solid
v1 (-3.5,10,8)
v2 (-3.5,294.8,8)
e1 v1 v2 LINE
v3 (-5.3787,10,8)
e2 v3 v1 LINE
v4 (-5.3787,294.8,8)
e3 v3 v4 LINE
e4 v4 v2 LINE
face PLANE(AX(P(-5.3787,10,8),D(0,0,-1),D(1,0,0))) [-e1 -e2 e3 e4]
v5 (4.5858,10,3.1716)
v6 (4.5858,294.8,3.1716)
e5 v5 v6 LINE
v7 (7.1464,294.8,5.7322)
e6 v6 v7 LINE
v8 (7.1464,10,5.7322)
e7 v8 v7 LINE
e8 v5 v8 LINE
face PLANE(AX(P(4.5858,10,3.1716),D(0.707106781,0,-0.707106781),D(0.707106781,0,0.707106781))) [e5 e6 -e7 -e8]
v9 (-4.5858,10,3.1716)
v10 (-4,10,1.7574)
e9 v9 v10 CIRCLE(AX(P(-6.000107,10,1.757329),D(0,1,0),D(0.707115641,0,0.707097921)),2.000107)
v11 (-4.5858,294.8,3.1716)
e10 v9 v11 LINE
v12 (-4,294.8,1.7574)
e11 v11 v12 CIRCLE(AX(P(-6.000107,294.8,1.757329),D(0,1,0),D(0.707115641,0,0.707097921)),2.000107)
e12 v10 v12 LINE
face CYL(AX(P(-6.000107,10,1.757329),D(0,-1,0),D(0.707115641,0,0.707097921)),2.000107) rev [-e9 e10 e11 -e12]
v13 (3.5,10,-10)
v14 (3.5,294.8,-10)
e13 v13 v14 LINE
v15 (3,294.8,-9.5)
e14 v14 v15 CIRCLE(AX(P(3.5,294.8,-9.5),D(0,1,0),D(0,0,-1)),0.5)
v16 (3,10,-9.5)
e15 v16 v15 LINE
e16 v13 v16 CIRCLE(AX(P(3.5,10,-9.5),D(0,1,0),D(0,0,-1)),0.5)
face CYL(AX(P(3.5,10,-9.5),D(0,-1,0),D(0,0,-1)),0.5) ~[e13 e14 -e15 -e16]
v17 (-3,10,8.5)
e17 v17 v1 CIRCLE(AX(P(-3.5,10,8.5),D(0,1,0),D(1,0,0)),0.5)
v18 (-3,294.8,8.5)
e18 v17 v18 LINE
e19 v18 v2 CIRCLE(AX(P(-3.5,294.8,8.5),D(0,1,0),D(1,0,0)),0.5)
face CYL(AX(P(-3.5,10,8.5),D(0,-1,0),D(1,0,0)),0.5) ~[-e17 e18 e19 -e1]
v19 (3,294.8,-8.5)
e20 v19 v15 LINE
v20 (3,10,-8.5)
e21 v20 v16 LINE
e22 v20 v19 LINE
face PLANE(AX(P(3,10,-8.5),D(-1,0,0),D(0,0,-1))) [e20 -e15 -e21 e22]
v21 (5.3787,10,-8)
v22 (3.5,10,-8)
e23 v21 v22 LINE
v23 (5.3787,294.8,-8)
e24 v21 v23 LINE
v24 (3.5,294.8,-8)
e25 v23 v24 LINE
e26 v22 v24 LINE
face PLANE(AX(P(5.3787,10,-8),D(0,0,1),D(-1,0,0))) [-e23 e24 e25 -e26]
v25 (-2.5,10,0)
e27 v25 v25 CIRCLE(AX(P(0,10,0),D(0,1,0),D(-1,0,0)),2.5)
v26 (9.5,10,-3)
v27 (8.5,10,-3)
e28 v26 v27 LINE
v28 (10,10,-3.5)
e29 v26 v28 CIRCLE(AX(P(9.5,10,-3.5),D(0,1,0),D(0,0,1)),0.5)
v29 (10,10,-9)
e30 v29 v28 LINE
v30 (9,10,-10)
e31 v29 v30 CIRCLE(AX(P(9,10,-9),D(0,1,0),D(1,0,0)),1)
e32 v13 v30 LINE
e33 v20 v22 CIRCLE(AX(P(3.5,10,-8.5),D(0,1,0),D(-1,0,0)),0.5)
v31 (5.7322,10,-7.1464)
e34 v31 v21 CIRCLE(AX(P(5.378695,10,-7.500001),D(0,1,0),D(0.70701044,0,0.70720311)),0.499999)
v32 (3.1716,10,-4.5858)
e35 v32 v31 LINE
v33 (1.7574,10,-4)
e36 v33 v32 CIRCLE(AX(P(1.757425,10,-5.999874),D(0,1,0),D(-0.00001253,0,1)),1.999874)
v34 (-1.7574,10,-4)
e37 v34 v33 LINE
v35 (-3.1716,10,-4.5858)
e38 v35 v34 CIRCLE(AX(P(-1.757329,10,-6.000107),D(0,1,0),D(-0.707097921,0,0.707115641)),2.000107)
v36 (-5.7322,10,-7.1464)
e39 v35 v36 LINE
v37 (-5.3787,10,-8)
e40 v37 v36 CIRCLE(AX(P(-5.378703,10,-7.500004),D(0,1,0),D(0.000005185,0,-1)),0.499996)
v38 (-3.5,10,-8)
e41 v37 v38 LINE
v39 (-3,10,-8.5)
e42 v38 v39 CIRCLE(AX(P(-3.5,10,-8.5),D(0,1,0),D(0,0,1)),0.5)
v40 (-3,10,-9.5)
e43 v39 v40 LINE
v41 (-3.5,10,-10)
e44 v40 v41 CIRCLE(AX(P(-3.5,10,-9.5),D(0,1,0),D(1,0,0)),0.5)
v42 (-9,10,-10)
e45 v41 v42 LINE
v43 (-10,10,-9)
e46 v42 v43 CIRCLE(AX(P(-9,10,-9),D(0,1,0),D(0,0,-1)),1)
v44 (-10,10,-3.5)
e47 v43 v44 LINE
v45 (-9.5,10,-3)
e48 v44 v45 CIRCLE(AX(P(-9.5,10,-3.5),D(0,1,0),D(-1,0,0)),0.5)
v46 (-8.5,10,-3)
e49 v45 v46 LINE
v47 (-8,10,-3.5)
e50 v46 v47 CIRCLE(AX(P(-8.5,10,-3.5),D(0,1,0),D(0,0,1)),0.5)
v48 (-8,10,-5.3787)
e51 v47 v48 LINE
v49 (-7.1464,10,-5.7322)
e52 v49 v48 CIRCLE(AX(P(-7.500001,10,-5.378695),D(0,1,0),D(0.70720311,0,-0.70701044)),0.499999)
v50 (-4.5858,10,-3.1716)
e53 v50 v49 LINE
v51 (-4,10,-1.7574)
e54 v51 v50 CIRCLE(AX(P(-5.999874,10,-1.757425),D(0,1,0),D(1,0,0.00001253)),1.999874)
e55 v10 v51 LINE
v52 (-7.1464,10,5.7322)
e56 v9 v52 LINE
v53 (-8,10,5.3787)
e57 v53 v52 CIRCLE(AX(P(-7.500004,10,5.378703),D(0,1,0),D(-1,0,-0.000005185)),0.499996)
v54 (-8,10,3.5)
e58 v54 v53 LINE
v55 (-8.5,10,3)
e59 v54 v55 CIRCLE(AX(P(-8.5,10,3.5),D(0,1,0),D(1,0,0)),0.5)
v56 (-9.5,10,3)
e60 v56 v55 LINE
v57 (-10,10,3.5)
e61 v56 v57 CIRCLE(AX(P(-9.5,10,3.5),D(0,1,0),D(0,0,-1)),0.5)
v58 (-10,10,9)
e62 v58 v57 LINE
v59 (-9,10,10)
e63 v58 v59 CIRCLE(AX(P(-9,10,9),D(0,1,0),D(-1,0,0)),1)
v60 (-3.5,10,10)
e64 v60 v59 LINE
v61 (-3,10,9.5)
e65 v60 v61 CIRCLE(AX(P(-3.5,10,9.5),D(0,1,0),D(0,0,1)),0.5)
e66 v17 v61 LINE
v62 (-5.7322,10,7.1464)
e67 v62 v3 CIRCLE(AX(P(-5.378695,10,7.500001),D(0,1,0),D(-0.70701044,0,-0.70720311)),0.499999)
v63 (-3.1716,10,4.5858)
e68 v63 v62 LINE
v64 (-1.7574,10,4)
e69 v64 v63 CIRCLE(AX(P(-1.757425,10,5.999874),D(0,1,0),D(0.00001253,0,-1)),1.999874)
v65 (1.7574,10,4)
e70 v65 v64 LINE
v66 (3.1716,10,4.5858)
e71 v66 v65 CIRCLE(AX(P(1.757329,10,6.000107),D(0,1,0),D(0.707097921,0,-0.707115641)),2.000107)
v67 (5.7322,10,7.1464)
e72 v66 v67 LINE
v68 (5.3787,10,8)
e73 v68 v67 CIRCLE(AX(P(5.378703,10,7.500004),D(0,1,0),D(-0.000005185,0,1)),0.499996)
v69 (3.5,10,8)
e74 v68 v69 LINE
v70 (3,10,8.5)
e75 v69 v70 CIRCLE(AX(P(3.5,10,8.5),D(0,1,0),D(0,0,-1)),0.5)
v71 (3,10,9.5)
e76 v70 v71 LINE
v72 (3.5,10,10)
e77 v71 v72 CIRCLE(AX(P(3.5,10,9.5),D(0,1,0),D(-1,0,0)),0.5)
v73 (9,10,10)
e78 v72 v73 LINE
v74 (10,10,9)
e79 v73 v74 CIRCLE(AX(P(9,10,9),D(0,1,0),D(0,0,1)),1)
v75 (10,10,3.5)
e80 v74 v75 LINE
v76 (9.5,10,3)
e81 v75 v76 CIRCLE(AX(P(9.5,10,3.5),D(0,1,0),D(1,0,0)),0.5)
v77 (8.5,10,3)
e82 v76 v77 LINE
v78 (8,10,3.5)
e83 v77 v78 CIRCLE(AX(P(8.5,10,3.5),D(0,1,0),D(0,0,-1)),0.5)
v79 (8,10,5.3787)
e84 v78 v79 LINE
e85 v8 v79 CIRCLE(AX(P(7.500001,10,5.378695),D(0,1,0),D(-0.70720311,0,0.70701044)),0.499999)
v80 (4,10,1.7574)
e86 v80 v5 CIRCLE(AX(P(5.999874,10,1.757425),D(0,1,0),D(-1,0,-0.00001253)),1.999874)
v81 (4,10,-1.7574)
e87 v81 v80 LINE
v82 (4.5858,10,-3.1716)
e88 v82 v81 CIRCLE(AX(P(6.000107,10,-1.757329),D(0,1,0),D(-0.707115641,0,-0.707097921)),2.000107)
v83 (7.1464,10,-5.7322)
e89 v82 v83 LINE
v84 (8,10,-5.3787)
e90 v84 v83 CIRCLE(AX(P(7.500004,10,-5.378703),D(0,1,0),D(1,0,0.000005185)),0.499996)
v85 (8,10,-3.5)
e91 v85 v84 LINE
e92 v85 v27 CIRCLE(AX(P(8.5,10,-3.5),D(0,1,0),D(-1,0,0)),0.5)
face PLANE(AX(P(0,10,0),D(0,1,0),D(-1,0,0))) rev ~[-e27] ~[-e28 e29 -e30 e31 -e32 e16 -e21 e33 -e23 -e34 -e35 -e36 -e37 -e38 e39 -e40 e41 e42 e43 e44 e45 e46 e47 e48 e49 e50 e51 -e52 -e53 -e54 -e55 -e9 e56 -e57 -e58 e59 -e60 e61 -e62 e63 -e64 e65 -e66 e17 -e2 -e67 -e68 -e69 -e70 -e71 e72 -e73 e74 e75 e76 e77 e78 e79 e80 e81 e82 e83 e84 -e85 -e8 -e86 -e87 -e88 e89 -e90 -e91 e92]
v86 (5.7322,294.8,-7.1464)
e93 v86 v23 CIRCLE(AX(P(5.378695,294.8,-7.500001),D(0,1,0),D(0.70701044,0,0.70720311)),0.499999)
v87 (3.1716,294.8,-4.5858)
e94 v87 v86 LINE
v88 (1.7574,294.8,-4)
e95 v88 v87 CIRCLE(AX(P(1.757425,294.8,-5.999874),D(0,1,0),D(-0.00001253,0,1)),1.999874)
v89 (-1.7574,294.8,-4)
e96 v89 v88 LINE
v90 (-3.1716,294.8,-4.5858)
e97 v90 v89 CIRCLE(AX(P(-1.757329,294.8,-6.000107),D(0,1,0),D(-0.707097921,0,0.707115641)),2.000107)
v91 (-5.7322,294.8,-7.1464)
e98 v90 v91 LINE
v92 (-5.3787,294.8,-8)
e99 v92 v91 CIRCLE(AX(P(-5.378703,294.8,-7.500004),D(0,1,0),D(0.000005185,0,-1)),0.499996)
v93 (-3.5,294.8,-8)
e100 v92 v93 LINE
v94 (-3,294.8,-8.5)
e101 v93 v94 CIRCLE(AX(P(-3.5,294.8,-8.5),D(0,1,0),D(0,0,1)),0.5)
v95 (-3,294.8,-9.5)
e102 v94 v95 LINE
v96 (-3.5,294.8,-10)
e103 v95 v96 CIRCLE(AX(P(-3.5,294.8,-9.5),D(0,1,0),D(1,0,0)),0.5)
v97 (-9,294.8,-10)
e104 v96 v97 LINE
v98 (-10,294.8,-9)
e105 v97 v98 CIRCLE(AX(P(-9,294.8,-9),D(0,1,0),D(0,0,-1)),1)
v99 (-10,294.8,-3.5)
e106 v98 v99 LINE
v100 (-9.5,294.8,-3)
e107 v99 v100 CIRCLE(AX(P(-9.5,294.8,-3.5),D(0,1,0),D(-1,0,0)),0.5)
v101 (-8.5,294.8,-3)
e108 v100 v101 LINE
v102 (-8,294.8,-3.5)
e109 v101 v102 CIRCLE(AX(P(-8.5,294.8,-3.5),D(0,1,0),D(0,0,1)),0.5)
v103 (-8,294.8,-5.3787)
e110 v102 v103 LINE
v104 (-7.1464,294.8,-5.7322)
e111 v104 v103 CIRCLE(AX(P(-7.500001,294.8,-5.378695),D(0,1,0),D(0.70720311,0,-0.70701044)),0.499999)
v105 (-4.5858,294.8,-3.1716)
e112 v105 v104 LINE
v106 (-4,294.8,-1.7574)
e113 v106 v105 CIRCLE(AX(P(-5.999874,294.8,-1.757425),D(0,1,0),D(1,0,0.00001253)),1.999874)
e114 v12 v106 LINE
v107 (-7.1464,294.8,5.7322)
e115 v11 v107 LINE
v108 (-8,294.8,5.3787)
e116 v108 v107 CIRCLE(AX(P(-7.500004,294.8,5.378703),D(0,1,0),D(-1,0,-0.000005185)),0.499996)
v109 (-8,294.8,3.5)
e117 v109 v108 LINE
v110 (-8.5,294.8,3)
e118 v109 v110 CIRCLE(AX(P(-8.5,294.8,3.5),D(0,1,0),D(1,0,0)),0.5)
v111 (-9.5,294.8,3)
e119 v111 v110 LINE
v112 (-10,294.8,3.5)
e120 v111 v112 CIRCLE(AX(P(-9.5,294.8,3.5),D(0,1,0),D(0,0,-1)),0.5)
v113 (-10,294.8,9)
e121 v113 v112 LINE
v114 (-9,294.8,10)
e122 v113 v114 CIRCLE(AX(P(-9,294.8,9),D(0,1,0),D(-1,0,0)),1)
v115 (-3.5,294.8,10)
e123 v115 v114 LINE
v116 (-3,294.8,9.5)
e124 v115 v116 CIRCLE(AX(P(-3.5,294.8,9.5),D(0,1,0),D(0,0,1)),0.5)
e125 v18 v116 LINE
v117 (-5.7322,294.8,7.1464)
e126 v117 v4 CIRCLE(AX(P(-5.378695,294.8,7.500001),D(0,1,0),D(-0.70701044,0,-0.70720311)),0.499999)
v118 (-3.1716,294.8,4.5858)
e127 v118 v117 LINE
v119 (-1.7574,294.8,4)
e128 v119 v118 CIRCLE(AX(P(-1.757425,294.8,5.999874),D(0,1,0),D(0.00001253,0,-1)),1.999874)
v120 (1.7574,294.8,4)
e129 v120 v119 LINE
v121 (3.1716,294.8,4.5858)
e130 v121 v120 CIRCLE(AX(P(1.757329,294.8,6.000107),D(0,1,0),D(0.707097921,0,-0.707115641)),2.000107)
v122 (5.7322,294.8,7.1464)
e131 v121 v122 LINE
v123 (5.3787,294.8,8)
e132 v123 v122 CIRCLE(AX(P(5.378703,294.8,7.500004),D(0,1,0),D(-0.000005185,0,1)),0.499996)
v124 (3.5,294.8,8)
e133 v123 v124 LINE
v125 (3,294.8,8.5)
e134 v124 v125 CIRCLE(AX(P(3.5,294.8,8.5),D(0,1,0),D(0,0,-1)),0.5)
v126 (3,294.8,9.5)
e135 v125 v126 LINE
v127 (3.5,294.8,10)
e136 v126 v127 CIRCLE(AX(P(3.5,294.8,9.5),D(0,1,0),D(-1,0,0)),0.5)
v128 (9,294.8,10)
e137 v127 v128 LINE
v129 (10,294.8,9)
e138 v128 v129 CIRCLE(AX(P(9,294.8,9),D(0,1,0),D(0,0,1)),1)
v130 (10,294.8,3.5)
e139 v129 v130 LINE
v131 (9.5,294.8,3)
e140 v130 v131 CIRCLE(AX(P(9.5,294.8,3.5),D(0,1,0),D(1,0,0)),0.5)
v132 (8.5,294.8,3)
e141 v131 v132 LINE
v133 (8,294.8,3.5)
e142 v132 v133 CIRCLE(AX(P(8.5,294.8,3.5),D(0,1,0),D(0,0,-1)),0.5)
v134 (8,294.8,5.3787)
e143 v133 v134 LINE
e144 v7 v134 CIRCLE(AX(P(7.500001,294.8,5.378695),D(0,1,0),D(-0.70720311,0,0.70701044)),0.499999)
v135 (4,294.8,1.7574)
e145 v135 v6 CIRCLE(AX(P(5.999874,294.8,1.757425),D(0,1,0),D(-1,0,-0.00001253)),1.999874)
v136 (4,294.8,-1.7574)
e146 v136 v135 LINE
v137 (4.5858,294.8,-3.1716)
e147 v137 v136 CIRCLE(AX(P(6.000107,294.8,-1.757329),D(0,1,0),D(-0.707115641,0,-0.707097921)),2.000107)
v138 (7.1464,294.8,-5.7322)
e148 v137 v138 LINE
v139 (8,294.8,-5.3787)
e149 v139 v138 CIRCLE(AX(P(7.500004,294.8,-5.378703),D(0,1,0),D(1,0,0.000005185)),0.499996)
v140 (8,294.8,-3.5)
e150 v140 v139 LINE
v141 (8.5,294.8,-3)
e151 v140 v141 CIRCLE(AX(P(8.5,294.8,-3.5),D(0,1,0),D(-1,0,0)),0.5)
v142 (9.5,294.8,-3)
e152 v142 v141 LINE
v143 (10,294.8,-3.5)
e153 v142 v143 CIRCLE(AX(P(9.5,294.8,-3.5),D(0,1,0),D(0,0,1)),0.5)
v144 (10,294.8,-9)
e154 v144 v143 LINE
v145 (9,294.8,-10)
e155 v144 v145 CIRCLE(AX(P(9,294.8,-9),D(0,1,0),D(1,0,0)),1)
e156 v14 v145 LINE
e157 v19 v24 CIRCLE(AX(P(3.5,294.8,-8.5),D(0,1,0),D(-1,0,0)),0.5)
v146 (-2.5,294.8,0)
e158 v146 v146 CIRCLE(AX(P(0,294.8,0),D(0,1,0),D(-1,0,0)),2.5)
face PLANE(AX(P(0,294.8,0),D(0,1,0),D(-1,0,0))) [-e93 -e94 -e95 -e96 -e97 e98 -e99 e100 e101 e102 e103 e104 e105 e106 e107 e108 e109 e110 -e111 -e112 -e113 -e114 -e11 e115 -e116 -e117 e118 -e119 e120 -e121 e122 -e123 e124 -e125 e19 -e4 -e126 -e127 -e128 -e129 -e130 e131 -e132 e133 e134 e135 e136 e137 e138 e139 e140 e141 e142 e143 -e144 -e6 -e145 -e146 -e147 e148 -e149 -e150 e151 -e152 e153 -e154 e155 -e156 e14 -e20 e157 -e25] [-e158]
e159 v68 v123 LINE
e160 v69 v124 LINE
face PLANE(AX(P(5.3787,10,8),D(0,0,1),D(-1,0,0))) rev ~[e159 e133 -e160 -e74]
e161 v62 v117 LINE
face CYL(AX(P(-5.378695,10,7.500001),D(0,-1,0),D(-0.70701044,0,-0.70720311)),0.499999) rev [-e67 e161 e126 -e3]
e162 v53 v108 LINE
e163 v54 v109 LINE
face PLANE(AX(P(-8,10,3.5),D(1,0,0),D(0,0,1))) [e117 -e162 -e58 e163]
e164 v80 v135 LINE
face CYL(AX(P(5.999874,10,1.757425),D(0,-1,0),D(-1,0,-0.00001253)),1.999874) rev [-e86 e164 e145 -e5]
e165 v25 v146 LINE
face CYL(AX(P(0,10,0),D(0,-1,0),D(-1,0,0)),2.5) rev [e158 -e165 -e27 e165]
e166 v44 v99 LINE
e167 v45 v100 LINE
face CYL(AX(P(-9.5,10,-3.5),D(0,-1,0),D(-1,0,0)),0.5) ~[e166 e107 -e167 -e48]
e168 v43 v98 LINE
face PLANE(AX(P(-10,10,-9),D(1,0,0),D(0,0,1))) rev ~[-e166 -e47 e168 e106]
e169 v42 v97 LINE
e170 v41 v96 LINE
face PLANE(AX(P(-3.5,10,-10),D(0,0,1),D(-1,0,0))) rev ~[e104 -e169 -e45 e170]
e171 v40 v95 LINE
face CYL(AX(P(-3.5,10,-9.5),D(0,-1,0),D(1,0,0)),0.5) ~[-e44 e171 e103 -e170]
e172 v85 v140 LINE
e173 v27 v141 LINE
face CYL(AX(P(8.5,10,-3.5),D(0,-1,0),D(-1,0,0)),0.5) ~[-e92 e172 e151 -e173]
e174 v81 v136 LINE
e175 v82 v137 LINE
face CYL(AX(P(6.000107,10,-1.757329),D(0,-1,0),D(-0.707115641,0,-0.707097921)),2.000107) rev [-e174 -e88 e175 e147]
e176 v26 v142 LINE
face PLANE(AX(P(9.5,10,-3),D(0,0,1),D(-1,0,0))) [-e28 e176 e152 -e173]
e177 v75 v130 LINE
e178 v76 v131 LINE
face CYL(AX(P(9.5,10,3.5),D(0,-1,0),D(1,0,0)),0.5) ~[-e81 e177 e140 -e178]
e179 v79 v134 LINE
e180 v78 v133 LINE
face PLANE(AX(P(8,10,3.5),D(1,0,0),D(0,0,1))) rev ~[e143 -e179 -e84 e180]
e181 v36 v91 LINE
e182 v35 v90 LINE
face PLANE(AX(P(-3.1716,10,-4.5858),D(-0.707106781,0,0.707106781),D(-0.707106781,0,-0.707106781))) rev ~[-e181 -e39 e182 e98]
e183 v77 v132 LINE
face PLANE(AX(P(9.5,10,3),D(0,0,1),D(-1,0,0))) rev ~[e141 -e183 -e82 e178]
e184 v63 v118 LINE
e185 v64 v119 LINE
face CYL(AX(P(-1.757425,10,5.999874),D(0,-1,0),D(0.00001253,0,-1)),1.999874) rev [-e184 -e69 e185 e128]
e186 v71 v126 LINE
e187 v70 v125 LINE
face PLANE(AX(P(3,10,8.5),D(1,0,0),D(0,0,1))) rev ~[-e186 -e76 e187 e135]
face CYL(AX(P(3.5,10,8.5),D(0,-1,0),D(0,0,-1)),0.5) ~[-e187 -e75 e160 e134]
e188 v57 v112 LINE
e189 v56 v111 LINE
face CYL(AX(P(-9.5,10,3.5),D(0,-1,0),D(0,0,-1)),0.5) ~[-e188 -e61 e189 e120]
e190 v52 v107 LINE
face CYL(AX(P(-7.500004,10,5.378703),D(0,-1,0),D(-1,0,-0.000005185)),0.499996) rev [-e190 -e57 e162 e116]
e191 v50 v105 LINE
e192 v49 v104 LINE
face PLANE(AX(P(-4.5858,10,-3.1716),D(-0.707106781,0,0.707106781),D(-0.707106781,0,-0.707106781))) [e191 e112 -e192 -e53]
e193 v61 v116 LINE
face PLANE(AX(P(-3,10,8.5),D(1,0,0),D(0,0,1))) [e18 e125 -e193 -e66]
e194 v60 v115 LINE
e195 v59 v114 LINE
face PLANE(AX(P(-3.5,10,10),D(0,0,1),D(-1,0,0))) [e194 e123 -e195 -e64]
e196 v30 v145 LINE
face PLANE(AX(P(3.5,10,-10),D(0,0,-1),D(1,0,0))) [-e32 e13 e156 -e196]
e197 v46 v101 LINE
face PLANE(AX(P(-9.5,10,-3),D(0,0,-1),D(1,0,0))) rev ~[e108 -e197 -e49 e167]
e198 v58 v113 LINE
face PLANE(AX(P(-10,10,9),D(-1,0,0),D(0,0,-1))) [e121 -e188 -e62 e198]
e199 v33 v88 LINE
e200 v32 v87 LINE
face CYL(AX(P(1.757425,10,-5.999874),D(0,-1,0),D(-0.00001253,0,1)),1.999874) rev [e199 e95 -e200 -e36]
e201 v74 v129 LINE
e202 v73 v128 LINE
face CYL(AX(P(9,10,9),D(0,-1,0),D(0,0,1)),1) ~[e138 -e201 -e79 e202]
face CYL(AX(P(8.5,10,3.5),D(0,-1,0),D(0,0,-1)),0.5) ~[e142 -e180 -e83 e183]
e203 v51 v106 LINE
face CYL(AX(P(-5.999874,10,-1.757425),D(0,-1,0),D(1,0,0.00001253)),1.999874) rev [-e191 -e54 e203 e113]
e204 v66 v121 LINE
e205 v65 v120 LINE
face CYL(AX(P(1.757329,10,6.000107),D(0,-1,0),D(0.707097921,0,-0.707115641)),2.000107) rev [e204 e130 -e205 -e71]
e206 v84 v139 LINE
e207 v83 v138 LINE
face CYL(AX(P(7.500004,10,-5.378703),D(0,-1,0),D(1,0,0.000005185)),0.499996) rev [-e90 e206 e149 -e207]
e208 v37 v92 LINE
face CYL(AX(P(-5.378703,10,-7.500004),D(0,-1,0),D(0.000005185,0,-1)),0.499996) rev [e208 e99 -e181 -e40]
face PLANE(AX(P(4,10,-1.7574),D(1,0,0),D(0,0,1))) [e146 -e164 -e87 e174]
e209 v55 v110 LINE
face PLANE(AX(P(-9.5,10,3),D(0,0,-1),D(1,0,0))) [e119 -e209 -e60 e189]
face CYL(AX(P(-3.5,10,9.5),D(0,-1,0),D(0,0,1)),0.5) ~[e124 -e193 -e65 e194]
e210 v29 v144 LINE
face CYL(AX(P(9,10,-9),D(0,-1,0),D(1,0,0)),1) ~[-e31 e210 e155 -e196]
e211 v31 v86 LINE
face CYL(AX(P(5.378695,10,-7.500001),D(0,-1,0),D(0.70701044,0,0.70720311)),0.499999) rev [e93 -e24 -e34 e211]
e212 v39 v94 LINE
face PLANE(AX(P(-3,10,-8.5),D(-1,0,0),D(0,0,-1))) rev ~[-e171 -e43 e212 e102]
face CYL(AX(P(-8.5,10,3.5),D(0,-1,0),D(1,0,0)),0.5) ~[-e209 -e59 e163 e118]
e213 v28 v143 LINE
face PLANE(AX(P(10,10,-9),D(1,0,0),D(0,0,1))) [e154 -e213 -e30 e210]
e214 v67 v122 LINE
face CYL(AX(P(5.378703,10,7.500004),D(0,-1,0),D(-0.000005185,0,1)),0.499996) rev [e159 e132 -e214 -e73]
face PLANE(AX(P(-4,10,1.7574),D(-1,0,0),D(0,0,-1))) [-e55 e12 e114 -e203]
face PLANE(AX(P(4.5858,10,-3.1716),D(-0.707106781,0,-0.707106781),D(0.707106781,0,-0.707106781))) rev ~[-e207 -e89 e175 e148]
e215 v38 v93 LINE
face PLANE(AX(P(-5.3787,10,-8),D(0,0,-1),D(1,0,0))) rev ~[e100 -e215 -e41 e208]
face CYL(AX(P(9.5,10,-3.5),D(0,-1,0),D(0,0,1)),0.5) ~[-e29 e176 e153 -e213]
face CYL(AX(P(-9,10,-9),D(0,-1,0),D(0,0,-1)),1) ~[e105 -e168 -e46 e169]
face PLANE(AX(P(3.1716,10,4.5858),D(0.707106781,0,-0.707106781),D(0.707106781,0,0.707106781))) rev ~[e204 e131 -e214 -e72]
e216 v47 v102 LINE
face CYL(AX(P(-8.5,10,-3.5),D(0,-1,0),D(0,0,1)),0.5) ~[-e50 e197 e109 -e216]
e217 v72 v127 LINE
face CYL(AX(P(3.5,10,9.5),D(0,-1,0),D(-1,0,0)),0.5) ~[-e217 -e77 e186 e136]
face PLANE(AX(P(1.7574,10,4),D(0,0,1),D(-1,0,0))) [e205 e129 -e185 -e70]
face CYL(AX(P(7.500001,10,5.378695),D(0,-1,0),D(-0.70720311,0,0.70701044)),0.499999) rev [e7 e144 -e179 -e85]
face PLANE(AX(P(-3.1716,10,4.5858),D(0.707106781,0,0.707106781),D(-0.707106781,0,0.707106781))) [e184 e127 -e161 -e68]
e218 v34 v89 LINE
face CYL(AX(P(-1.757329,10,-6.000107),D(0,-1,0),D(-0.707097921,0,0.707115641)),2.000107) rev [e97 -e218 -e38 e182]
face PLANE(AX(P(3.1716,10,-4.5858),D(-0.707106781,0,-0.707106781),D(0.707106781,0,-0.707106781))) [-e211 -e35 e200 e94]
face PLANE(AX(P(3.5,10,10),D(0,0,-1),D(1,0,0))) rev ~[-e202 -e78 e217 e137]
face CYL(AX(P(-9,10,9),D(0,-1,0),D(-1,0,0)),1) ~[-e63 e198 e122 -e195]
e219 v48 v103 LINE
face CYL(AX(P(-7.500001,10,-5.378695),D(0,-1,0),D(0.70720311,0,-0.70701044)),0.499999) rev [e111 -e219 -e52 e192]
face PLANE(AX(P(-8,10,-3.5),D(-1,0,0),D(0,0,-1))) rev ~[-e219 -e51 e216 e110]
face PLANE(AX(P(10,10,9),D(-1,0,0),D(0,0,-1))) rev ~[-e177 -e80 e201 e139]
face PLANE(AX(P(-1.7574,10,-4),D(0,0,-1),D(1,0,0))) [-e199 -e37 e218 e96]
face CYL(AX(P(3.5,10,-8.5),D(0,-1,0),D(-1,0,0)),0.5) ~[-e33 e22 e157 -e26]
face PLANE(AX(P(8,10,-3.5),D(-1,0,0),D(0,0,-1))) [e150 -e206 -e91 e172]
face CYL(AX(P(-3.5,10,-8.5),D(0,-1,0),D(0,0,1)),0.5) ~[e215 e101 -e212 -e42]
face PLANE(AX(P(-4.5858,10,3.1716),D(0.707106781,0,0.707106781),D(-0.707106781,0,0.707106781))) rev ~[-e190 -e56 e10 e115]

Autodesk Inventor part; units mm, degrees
ref_plane "Start Plane" through (0, 10, 0) normal (0, 1, 0) x (-1, 0, 0)
ref_plane "End Plane" through (0, 294.8, 0) normal (0, 1, 0) x (-1, 0, 0)
sketch "Sketch" plane through (0, 0, 0) normal (0, 1, 0) x (-1, 0, 0)
  line L0 (-1.7574, 4) -> (1.7574, 4)
  line L1 (4, 1.7574) -> (4, -1.7574)
  line L2 (1.7574, -4) -> (-1.7574, -4)
  line L3 (-4, -1.7574) -> (-4, 1.7574)
  line L4 (4.5858, -3.1716) -> (7.1464, -5.7322)
  line L5 (3.1716, -4.5858) -> (5.7322, -7.1464)
  line L6 (5.3787, -8) -> (3.5, -8)
  line L7 (3, -8.5) -> (3, -9.5)
  line L8 (3.5, -10) -> (9, -10)
  line L9 (10, -9) -> (10, -3.5)
  line L10 (9.5, -3) -> (8.5, -3)
  line L11 (8, -3.5) -> (8, -5.3787)
  line L12 (4, 0) -> (-4, 0) construction
  line L13 (0, -4) -> (0, 4) construction
  arc A0 (4, -1.7574) -> (4.5858, -3.1716) centre (6, -1.7574) ccw
  arc A1 (3.1716, -4.5858) -> (1.7574, -4) centre (1.7574, -6) ccw
  arc A2 (3.5, -8) -> (3, -8.5) centre (3.5, -8.5) ccw
  arc A3 (3, -9.5) -> (3.5, -10) centre (3.5, -9.5) ccw
  arc A4 (10, -3.5) -> (9.5, -3) centre (9.5, -3.5) ccw
  arc A5 (8.5, -3) -> (8, -3.5) centre (8.5, -3.5) ccw
  arc A6 (7.1464, -5.7322) -> (8, -5.3787) centre (7.5, -5.3787) ccw
  arc A7 (5.3787, -8) -> (5.7322, -7.1464) centre (5.3787, -7.5) ccw
  arc A8 (9, -10) -> (10, -9) centre (9, -9) ccw
  line L14 (-4.5858, -3.1716) -> (-7.1464, -5.7322)
  line L15 (-3.1716, -4.5858) -> (-5.7322, -7.1464)
  line L16 (-5.3787, -8) -> (-3.5, -8)
  line L17 (-3, -8.5) -> (-3, -9.5)
  line L18 (-3.5, -10) -> (-9, -10)
  line L19 (-10, -9) -> (-10, -3.5)
  line L20 (-9.5, -3) -> (-8.5, -3)
  line L21 (-8, -3.5) -> (-8, -5.3787)
  arc A9 (-4.5858, -3.1716) -> (-4, -1.7574) centre (-6, -1.7574) ccw
  arc A10 (-1.7574, -4) -> (-3.1716, -4.5858) centre (-1.7574, -6) ccw
  arc A11 (-3, -8.5) -> (-3.5, -8) centre (-3.5, -8.5) ccw
  arc A12 (-3.5, -10) -> (-3, -9.5) centre (-3.5, -9.5) ccw
  arc A13 (-9.5, -3) -> (-10, -3.5) centre (-9.5, -3.5) ccw
  arc A14 (-8, -3.5) -> (-8.5, -3) centre (-8.5, -3.5) ccw
  arc A15 (-8, -5.3787) -> (-7.1464, -5.7322) centre (-7.5, -5.3787) ccw
  arc A16 (-5.7322, -7.1464) -> (-5.3787, -8) centre (-5.3787, -7.5) ccw
  arc A17 (-10, -9) -> (-9, -10) centre (-9, -9) ccw
  line L22 (4.5858, 3.1716) -> (7.1464, 5.7322)
  line L23 (3.1716, 4.5858) -> (5.7322, 7.1464)
  line L24 (5.3787, 8) -> (3.5, 8)
  line L25 (3, 8.5) -> (3, 9.5)
  line L26 (3.5, 10) -> (9, 10)
  line L27 (10, 9) -> (10, 3.5)
  line L28 (9.5, 3) -> (8.5, 3)
  line L29 (8, 3.5) -> (8, 5.3787)
  arc A18 (4.5858, 3.1716) -> (4, 1.7574) centre (6, 1.7574) ccw
  arc A19 (1.7574, 4) -> (3.1716, 4.5858) centre (1.7574, 6) ccw
  arc A20 (3, 8.5) -> (3.5, 8) centre (3.5, 8.5) ccw
  arc A21 (3.5, 10) -> (3, 9.5) centre (3.5, 9.5) ccw
  arc A22 (9.5, 3) -> (10, 3.5) centre (9.5, 3.5) ccw
  arc A23 (8, 3.5) -> (8.5, 3) centre (8.5, 3.5) ccw
  arc A24 (8, 5.3787) -> (7.1464, 5.7322) centre (7.5, 5.3787) ccw
  arc A25 (5.7322, 7.1464) -> (5.3787, 8) centre (5.3787, 7.5) ccw
  arc A26 (10, 9) -> (9, 10) centre (9, 9) ccw
  line L30 (-10, 9) -> (-10, 3.5)
  arc A27 (-9, 10) -> (-10, 9) centre (-9, 9) ccw
  arc A28 (-10, 3.5) -> (-9.5, 3) centre (-9.5, 3.5) ccw
  line L31 (-9.5, 3) -> (-8.5, 3)
  arc A29 (-8.5, 3) -> (-8, 3.5) centre (-8.5, 3.5) ccw
  line L32 (-8, 3.5) -> (-8, 5.3787)
  arc A30 (-7.1464, 5.7322) -> (-8, 5.3787) centre (-7.5, 5.3787) ccw
  line L33 (-4.5858, 3.1716) -> (-7.1464, 5.7322)
  line L34 (-3.1716, 4.5858) -> (-5.7322, 7.1464)
  arc A31 (-3.1716, 4.5858) -> (-1.7574, 4) centre (-1.7574, 6) ccw
  arc A32 (-4, 1.7574) -> (-4.5858, 3.1716) centre (-6, 1.7574) ccw
  arc A33 (-5.3787, 8) -> (-5.7322, 7.1464) centre (-5.3787, 7.5) ccw
  line L35 (-5.3787, 8) -> (-3.5, 8)
  arc A34 (-3.5, 8) -> (-3, 8.5) centre (-3.5, 8.5) ccw
  line L36 (-3, 8.5) -> (-3, 9.5)
  arc A35 (-3, 9.5) -> (-3.5, 10) centre (-3.5, 9.5) ccw
  line L37 (-3.5, 10) -> (-9, 10)
  circle A36 centre (0, 0) radius 2.5
  point P0 (3, -8)
  point P1 (3, -10)
  point P2 (10, -10)
  dimension "d3" = 2
  dimension "d4" = 2
  dimension "d5" = 7
  dimension "d6" = 2
  dimension "d7" = 0.5
  dimension "d8" = 1
  dimension "d9" = 20
  dimension "d10" = 20
  dimension "d11" = 8
  dimension "d13" = 5
  dimension "d14" = 8
extrude "Body" add sketch "Sketch" along normal up to surface (284.8 mm away) from surface at 10
sketch "Sketch4" plane through (0, 0, 0) normal (0, 1, 0) x (-1, 0, 0)
  line L0 (0, 0) -> (10, 0)
ref_plane "Work Plane4" through (0, 0, 0) normal (0, 0, -1) x (-1, 0, 0)
sketch "Sketch5" plane through (0, 0, 0) normal (0, 0, -1) x (-1, 0, 0)
  line L0 (-2, 10) -> (12, 10)
  line L1 (-2, 294.8) -> (12, 294.8)
  dimension "d22" = 284.8
ref_plane "Work Plane5" through (3.5, 10, 0) normal (0, -1, 0) x (1, 0, 0)
split "Split1" plane through (3.5, 10, 0) removes the side toward (0, -1, 0)
ref_plane "Work Plane6" through (-9, 294.8, -279.4) normal (0, 1, 0) x (1, 0, 0)
split "Split2" plane through (-9, 294.8, -279.4) removes the side toward (0, 1, 0)
equation "\"d18\" = Length + G_OFFSET_END"
equation "\"G_L\" = d22"
equation "\"Length\" = 304.8"
equation "\"G_OFFSET_END\" = -10"
properties part number "A3.3"
